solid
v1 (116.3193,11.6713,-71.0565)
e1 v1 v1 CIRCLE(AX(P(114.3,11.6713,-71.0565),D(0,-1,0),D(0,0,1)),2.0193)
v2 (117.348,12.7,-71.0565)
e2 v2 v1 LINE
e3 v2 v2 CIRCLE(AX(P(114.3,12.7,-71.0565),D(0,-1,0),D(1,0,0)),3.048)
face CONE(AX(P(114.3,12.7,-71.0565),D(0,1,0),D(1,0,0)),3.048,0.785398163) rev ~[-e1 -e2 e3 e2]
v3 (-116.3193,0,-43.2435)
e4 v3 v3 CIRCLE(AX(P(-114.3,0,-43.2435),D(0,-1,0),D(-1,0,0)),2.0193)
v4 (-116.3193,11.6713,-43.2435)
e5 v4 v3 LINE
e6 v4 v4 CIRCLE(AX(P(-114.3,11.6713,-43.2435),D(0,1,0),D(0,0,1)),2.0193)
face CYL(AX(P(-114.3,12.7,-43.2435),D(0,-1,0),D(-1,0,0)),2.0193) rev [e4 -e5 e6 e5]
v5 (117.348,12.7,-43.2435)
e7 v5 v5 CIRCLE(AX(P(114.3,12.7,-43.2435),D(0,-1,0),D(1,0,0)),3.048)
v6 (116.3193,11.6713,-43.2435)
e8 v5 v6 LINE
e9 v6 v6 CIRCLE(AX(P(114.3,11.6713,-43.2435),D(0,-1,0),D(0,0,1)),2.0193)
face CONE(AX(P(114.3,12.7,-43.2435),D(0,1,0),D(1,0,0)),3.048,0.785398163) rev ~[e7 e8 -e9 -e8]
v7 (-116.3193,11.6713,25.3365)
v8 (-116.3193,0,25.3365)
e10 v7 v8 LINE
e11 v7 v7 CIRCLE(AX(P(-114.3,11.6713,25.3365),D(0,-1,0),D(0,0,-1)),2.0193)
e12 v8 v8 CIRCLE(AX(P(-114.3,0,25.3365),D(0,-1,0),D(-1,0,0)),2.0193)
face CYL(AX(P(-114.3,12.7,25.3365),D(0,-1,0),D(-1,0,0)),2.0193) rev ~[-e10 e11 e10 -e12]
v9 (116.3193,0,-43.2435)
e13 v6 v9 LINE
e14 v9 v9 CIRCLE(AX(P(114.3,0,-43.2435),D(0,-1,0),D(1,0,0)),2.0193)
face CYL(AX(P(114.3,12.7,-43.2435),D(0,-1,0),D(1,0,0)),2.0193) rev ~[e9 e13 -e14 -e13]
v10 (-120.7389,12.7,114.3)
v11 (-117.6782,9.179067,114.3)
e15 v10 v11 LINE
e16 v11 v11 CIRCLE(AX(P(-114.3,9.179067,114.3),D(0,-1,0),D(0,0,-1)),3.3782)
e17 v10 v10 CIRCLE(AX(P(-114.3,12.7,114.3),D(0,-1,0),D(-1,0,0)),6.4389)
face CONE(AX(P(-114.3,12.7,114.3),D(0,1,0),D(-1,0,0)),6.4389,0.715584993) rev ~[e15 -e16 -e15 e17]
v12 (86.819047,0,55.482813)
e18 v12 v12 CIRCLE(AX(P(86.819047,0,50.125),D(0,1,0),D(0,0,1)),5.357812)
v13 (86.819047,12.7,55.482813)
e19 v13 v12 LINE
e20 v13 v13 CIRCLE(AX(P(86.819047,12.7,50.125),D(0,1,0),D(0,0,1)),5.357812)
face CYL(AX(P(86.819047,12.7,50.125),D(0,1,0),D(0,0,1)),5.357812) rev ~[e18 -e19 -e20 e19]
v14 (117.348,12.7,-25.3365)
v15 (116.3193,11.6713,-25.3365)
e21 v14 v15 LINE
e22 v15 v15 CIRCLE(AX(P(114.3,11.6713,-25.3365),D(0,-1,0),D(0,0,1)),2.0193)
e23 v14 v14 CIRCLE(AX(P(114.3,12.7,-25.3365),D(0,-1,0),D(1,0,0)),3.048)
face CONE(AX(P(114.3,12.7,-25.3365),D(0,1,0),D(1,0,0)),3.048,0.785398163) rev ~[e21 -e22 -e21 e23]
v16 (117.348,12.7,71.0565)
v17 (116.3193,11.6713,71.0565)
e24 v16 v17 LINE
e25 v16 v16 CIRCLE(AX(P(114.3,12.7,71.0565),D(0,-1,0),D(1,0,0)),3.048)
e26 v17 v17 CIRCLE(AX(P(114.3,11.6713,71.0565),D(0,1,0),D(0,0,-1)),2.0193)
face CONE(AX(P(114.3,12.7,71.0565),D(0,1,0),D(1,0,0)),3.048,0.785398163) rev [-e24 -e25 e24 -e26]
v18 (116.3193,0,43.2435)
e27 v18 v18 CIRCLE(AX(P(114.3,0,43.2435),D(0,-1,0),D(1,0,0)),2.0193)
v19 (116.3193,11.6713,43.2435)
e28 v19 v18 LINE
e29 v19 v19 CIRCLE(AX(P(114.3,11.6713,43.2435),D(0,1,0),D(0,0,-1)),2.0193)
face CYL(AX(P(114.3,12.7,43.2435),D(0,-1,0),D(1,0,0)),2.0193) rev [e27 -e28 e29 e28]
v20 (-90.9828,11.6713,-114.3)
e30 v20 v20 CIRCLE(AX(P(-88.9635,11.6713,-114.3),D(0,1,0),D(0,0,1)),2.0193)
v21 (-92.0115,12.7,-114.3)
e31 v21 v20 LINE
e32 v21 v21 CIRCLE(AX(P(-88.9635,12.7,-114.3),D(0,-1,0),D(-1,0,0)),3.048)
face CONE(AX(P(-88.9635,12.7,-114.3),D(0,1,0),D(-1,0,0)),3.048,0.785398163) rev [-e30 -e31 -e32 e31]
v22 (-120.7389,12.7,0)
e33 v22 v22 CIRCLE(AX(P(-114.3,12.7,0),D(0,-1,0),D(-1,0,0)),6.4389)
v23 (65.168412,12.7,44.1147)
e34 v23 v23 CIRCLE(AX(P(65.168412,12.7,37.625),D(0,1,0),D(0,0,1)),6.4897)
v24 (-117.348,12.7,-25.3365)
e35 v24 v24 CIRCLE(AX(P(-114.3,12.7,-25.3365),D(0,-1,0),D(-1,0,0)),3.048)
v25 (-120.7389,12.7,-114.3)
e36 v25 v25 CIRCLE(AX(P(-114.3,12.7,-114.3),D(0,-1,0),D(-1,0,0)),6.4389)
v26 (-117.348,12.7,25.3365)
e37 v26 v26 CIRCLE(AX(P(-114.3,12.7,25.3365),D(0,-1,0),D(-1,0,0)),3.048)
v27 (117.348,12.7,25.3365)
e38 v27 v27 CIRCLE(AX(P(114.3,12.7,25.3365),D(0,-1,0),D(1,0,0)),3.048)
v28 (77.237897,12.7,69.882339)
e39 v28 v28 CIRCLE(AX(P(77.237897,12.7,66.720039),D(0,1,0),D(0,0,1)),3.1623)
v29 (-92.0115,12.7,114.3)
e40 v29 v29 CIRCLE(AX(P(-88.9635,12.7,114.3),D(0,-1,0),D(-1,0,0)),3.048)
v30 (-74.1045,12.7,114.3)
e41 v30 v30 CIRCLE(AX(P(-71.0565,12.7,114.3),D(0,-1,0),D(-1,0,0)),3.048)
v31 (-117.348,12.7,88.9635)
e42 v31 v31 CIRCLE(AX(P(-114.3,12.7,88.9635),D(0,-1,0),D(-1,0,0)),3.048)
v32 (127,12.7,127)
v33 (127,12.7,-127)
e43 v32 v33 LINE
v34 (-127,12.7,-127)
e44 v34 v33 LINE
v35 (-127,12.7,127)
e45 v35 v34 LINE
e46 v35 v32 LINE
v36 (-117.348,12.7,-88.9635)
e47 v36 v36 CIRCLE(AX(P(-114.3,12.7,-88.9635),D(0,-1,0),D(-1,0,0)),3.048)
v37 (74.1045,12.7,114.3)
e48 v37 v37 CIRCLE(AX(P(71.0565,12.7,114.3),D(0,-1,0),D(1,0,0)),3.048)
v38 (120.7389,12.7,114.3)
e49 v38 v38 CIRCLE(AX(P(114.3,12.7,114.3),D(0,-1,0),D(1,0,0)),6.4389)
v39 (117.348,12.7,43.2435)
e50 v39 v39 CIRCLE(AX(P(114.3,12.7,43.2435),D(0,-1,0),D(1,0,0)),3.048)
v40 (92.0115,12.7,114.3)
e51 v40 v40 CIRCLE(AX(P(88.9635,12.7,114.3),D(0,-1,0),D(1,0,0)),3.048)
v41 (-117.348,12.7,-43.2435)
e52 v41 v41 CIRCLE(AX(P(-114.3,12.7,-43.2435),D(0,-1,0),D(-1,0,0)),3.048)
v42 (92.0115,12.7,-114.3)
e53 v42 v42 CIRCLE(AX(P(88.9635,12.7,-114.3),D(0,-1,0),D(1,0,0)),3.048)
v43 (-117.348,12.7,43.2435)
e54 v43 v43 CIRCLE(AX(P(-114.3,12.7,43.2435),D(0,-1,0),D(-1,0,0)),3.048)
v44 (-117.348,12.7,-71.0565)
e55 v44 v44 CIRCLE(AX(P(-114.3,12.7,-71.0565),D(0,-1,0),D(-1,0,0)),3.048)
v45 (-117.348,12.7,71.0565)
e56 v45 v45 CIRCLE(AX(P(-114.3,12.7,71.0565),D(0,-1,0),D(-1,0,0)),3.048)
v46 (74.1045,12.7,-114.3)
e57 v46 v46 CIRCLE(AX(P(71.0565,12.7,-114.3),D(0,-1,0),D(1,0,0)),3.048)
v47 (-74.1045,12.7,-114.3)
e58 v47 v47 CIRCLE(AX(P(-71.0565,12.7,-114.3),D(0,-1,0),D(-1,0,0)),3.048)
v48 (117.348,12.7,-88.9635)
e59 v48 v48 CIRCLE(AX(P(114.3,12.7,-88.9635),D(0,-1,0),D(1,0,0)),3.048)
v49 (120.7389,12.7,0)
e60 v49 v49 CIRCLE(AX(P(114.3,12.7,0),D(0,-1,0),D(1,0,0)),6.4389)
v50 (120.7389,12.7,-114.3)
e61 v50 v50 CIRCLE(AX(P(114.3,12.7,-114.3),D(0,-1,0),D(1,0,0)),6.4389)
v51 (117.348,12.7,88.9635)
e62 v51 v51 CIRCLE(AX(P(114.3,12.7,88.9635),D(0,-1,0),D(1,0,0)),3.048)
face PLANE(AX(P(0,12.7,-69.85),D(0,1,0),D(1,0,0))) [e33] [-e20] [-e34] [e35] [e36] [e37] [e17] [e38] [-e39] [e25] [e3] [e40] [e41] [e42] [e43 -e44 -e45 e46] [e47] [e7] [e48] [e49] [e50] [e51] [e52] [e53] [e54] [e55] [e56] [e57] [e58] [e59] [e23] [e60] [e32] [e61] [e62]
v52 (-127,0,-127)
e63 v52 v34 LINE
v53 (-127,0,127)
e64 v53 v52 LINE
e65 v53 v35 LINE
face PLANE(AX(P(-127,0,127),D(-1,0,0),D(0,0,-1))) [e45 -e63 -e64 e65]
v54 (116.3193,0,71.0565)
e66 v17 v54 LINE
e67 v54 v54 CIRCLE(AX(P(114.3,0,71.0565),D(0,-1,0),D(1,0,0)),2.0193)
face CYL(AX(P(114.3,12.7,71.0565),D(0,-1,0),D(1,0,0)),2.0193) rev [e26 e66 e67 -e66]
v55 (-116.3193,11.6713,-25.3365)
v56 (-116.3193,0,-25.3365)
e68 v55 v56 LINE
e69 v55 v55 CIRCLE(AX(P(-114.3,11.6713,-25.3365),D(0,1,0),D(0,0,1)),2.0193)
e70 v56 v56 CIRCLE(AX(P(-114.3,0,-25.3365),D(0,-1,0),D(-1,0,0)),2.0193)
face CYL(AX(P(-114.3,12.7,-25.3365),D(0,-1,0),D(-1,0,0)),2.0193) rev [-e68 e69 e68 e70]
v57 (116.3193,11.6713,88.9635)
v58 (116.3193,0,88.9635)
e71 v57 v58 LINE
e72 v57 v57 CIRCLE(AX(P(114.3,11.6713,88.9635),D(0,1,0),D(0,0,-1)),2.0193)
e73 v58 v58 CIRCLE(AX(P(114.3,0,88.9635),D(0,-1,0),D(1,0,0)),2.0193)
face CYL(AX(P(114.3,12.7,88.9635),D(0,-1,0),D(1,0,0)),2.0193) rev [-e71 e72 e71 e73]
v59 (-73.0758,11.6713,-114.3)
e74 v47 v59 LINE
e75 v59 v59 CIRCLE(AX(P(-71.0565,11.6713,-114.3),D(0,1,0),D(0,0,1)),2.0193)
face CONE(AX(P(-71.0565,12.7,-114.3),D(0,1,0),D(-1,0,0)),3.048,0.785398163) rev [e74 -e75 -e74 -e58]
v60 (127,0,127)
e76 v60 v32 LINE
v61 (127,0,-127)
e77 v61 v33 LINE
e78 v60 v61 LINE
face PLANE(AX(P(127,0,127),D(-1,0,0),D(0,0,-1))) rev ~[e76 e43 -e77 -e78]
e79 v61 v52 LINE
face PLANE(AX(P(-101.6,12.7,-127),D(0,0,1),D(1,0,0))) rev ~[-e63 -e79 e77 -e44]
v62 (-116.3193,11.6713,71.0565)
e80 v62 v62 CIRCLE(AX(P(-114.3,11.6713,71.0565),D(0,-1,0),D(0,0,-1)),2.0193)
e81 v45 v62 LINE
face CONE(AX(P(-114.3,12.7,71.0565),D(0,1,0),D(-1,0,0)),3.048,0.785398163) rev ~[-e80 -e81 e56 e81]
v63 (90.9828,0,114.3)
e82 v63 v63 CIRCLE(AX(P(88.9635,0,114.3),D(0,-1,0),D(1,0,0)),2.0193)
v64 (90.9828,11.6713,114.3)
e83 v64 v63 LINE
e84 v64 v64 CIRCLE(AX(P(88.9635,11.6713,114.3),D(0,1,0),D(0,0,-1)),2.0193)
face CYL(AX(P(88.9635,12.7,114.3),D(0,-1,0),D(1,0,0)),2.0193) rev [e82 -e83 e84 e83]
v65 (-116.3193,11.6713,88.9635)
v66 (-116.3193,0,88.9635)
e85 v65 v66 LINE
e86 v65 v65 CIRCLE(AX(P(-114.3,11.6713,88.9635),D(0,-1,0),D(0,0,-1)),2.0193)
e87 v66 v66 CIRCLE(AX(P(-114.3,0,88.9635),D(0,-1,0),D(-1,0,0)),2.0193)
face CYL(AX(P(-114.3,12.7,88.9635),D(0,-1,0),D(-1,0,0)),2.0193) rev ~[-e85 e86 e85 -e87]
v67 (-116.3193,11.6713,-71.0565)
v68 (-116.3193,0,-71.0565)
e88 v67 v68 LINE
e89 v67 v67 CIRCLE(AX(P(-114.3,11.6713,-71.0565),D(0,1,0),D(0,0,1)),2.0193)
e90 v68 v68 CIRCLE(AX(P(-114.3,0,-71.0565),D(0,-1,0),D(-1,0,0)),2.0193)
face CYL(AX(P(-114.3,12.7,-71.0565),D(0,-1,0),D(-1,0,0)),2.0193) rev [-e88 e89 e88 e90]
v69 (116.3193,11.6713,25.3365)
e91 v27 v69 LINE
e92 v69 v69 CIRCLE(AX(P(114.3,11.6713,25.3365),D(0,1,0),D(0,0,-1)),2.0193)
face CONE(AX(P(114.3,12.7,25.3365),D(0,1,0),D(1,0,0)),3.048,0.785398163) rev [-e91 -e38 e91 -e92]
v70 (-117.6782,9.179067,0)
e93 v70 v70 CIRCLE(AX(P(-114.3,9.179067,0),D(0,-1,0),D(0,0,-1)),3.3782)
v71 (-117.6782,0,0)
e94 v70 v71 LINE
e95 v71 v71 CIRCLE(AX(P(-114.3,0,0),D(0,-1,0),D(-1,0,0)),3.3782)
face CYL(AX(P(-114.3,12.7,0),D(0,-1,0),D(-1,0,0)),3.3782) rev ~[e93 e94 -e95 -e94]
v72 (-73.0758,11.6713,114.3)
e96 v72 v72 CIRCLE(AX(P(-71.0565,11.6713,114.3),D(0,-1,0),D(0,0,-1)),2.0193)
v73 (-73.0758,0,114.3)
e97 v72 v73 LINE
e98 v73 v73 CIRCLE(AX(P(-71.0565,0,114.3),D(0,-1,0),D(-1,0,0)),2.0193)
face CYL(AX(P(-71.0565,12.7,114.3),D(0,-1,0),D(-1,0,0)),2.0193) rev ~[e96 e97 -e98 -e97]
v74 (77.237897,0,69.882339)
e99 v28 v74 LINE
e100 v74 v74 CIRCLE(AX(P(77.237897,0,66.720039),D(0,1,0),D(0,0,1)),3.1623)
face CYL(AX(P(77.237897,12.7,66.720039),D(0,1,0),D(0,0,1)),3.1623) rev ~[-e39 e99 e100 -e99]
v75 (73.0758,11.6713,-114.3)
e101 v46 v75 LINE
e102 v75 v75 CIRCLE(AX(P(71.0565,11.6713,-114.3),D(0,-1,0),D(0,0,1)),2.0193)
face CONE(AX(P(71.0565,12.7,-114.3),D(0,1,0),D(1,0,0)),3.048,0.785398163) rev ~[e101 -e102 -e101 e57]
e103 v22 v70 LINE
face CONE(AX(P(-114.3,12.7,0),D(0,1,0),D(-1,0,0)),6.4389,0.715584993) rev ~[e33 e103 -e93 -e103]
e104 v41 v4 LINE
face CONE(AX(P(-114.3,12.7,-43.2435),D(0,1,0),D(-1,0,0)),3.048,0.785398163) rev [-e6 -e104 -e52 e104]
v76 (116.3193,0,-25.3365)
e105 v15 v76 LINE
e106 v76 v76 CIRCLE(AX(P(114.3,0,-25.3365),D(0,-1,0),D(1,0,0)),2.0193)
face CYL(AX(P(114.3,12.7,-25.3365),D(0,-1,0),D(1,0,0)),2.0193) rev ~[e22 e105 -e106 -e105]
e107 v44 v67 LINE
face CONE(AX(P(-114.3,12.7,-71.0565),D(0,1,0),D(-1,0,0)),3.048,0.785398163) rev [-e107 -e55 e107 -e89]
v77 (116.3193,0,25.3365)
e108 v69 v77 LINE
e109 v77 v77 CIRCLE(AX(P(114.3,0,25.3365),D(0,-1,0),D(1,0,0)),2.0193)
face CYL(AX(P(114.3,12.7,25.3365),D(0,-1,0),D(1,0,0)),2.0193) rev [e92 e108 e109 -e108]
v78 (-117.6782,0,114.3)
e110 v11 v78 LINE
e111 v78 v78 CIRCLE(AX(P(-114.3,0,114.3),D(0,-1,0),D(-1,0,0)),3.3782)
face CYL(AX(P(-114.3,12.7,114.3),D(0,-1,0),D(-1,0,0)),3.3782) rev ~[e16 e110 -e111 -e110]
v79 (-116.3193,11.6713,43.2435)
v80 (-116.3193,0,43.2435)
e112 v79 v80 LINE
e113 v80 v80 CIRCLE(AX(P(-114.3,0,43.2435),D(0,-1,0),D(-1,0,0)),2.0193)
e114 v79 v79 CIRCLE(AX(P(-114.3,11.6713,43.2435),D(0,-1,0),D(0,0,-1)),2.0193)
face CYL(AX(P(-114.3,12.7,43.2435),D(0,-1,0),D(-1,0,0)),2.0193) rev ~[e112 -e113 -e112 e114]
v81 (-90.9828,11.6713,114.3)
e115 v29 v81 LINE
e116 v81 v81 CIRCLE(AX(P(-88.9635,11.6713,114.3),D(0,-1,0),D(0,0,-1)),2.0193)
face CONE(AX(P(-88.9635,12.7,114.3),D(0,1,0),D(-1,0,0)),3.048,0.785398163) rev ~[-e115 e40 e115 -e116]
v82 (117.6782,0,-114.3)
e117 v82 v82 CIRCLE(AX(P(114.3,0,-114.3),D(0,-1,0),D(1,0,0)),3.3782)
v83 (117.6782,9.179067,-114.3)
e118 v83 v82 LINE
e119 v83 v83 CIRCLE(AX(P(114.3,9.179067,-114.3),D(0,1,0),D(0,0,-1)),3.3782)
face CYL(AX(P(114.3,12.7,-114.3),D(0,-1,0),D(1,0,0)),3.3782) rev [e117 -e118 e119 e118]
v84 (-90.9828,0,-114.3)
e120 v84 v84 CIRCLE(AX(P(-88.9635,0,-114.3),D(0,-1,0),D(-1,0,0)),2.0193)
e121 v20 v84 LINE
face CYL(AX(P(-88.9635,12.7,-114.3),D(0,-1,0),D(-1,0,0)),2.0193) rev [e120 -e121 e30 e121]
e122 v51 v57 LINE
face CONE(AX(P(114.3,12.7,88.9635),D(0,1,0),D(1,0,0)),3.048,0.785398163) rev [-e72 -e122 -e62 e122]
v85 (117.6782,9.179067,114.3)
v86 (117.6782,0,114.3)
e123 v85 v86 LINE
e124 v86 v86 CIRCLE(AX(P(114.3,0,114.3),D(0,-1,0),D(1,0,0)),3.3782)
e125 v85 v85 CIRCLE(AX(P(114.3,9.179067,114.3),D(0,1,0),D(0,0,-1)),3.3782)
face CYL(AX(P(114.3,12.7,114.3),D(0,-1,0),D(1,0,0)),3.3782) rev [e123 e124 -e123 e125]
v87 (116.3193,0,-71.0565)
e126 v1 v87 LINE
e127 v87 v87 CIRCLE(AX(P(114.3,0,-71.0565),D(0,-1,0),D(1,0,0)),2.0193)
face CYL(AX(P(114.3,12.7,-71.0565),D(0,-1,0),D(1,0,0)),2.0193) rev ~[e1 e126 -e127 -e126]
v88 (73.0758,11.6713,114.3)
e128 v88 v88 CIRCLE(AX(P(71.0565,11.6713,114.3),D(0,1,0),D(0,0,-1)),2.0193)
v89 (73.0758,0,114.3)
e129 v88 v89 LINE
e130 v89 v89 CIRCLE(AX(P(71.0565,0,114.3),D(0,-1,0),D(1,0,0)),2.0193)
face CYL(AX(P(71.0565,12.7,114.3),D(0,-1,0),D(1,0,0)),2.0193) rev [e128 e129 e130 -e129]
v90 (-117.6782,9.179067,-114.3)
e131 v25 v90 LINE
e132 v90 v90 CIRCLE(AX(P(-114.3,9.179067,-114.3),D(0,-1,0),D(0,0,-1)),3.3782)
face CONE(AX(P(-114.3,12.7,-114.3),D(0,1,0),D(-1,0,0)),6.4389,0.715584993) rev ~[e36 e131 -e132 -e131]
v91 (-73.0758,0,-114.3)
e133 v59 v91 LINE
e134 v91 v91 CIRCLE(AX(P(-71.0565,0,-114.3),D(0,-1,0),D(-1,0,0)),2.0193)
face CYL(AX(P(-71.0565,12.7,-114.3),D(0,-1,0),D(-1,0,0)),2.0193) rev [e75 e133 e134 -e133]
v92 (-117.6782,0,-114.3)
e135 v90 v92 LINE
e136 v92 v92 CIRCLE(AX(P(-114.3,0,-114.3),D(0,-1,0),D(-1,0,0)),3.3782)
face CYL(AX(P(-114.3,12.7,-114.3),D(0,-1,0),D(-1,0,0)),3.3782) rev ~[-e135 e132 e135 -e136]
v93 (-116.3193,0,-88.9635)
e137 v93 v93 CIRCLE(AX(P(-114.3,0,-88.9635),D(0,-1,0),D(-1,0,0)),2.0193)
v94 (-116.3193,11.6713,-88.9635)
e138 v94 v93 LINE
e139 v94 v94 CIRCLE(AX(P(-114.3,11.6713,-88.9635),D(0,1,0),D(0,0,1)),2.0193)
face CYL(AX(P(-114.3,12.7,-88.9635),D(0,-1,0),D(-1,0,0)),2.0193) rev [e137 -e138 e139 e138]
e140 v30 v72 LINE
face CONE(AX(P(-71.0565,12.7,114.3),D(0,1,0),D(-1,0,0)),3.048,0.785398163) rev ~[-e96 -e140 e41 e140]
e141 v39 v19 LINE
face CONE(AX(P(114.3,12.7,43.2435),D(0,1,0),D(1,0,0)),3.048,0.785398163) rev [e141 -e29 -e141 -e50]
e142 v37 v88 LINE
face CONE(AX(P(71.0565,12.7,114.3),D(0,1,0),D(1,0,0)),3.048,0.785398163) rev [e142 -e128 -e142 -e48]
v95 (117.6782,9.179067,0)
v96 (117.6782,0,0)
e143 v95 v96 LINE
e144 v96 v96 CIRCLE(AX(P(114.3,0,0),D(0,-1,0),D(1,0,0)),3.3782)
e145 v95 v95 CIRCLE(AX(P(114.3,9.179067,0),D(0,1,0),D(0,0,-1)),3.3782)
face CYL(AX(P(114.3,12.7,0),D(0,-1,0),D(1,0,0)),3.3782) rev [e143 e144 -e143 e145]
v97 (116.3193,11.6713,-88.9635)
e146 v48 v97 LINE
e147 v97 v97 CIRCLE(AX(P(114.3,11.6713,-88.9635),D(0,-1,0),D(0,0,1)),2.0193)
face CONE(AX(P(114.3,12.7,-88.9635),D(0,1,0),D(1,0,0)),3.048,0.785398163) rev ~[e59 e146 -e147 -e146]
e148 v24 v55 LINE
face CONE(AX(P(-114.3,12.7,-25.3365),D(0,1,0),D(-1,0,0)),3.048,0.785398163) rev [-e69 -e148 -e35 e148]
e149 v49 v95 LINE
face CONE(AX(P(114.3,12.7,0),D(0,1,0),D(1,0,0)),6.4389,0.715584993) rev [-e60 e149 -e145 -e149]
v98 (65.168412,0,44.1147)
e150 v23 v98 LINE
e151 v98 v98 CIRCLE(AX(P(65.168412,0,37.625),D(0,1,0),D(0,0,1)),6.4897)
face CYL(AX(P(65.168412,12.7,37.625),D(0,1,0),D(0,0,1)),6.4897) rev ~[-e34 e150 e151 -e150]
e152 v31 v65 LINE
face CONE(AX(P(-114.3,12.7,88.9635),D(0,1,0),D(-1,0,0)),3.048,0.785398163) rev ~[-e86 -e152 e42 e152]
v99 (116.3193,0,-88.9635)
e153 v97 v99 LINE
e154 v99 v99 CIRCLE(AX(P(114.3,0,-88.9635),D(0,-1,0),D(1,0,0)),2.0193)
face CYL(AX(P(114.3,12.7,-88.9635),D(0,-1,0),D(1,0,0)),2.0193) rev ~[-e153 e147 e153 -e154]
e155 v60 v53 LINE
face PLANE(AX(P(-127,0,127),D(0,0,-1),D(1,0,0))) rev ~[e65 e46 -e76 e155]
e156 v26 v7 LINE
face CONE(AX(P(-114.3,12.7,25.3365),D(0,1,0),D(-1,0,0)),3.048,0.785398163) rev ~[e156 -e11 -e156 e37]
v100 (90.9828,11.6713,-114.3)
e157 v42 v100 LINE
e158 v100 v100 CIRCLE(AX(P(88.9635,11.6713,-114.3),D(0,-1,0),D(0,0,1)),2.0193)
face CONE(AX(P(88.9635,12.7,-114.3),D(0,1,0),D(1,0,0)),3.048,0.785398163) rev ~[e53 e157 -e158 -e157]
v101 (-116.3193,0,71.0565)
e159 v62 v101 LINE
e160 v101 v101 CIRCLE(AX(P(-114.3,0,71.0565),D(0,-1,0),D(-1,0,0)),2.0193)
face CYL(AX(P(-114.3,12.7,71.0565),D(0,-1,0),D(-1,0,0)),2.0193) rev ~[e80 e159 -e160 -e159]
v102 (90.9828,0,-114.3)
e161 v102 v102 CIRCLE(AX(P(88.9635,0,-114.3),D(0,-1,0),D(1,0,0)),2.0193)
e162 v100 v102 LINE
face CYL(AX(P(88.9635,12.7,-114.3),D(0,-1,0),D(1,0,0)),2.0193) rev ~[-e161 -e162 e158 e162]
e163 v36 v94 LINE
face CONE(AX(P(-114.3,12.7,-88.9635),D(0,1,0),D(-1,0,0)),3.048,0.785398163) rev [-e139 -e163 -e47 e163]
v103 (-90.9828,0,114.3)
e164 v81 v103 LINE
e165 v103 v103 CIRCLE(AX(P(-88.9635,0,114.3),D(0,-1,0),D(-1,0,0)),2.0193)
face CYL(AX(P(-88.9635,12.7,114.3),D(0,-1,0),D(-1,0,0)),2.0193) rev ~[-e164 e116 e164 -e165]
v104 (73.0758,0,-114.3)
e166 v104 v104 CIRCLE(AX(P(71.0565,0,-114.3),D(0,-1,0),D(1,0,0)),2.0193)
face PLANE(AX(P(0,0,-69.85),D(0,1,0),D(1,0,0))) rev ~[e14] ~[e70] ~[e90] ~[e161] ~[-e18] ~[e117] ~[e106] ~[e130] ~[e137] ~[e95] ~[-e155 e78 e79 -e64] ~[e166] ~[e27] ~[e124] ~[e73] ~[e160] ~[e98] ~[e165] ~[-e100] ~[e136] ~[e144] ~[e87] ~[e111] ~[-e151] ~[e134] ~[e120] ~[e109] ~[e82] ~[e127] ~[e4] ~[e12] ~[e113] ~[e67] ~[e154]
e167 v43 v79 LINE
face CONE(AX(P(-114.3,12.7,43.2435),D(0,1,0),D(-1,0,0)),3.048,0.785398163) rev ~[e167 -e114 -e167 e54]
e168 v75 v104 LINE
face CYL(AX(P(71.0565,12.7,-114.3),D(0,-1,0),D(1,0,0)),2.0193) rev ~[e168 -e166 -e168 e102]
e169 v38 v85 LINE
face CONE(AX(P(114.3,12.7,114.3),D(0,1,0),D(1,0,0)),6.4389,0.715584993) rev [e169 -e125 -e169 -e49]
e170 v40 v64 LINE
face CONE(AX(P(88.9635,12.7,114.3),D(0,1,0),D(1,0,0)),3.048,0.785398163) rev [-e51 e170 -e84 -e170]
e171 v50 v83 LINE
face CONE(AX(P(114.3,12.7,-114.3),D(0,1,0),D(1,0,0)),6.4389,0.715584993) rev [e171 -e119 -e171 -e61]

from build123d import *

# Parameters (mm, degrees)
SKETCH1_W                                        = 254
SKETCH1_H                                        = 254
BOSS_EXTRUDE1_DEPTH                              = 12.7
SKETCH2_W                                        = 203.2
SKETCH2_H                                        = 114.3
CUT_EXTRUDE1_DEPTH                               = 181.05357536
SKETCH11_W                                       = 203.2
SKETCH11_H                                       = 114.3
BOSS_EXTRUDE2_DEPTH                              = 12.7
SKETCH13_R                                       = 5.3578125
SKETCH13_R_2                                     = 6.4897
CUT_EXTRUDE8_DEPTH                               = 181.05357536
SKETCH14_R                                       = 3.1623
CUT_EXTRUDE9_DEPTH                               = 181.05357536
F_10_32_TAPPED_HOLE2_D                           = 4.0386
F_10_32_TAPPED_HOLE2_CSINK_D                     = 6.096
F_10_32_TAPPED_HOLE2_CSINK_ANGLE                 = 90
MIRROR2_COPY_1_D                                 = 4.0386
MIRROR2_COPY_1_CSINK_D                           = 6.096
MIRROR2_COPY_1_CSINK_ANGLE                       = 90
CSK_FOR_1_4_FLAT_HEAD_MACHINE_SCREW1_D           = 6.7564
CSK_FOR_1_4_FLAT_HEAD_MACHINE_SCREW1_CSINK_D     = 12.8778
CSK_FOR_1_4_FLAT_HEAD_MACHINE_SCREW1_CSINK_ANGLE = 82


with BuildPart() as part:
    # Sketch1 → Boss-Extrude1 (new body)
    with BuildSketch(Plane(origin=(0, 0, 0), x_dir=(1, 0, 0), z_dir=(0, 1, 0))):
        Rectangle(SKETCH1_W, SKETCH1_H)
    extrude(amount=BOSS_EXTRUDE1_DEPTH)

    # Sketch2 → Cut-Extrude1 (cut, through all)
    with BuildSketch(Plane(origin=(0, 12.7, 0), x_dir=(1, 0, 0), z_dir=(0, 1, 0))):
        with Locations((0, -69.85)):
            Rectangle(SKETCH2_W, SKETCH2_H)
        with Locations((0, 69.85)):
            Rectangle(SKETCH2_W, SKETCH2_H)
    extrude(amount=-CUT_EXTRUDE1_DEPTH, mode=Mode.SUBTRACT)

    # Sketch11 → Boss-Extrude2 (add)
    with BuildSketch(Plane(origin=(0, 12.7, 0), x_dir=(1, 0, 0), z_dir=(0, 1, 0))):
        with Locations((0, 69.85)):
            Rectangle(SKETCH11_W, SKETCH11_H)
        with Locations((0, -69.85)):
            Rectangle(SKETCH11_W, SKETCH11_H)
    extrude(amount=-BOSS_EXTRUDE2_DEPTH)

    # Sketch13 → Cut-Extrude8 (cut, through all)
    with BuildSketch(Plane(origin=(0, 12.7, 0), x_dir=(1, 0, 0), z_dir=(0, 1, 0))):
        with Locations(Location((86.819046868, -50.12500008, 0), (0, 0, 270))):
            Circle(SKETCH13_R)
        with Locations(Location((65.16841174, -37.625000061, 0), (0, 0, 270))):
            Circle(SKETCH13_R_2)
    extrude(amount=-CUT_EXTRUDE8_DEPTH, mode=Mode.SUBTRACT)

    # Sketch14 → Cut-Extrude9 (cut, through all)
    with BuildSketch(Plane(origin=(0, 12.7, 0), x_dir=(1, 0, 0), z_dir=(0, 1, 0))):
        with Locations(Location((77.237896866, -66.720038678, 0), (0, 0, 270))):
            Circle(SKETCH14_R)
    extrude(amount=-CUT_EXTRUDE9_DEPTH, mode=Mode.SUBTRACT)

    # #10-32 Tapped Hole2 (through all)
    with Locations(Plane(origin=(0, 12.7, 0), x_dir=(1, 0, 0), z_dir=(0, 1, 0))):
        with Locations((-114.3, -25.3365), (-114.3, -43.2435), (-114.3, -71.0565), (-114.3, -88.9635), (-88.9635, -114.3), (-71.0565, -114.3)):
            f_10_32_tapped_hole2 = CounterSinkHole(F_10_32_TAPPED_HOLE2_D / 2, F_10_32_TAPPED_HOLE2_CSINK_D / 2, counter_sink_angle=F_10_32_TAPPED_HOLE2_CSINK_ANGLE)

    # Mirror1: #10-32 Tapped Hole2 across plane
    add(f_10_32_tapped_hole2.mirror(Plane.XY), mode=Mode.SUBTRACT)

    # Mirror2: #10-32 Tapped Hole2 across plane
    add(f_10_32_tapped_hole2.mirror(Plane(origin=(0, 0, 0), x_dir=(0, 0, 1), z_dir=(1, 0, 0))), mode=Mode.SUBTRACT)

    # Mirror2 copy 1 (through all)
    with Locations(Plane(origin=(0, 12.7, 0), x_dir=(-1, 0, 0), z_dir=(0, 1, 0))):
        with Locations((-114.3, -25.3365), (-114.3, -43.2435), (-114.3, -71.0565), (-114.3, -88.9635), (-88.9635, -114.3), (-71.0565, -114.3)):
            CounterSinkHole(MIRROR2_COPY_1_D / 2, MIRROR2_COPY_1_CSINK_D / 2, counter_sink_angle=MIRROR2_COPY_1_CSINK_ANGLE)

    # CSK for 1/4 Flat Head Machine Screw1 (through all)
    with Locations(Plane(origin=(0, 12.7, 0), x_dir=(1, 0, 0), z_dir=(0, 1, 0))):
        with Locations((-114.3, 0), (-114.3, 114.3), (-114.3, -114.3)):
            csk_for_1_4_flat_head_machine_screw1 = CounterSinkHole(CSK_FOR_1_4_FLAT_HEAD_MACHINE_SCREW1_D / 2, CSK_FOR_1_4_FLAT_HEAD_MACHINE_SCREW1_CSINK_D / 2, counter_sink_angle=CSK_FOR_1_4_FLAT_HEAD_MACHINE_SCREW1_CSINK_ANGLE)

    # Mirror3: CSK for 1/4 Flat Head Machine Screw1 across plane
    add(csk_for_1_4_flat_head_machine_screw1.mirror(Plane(origin=(0, 0, 0), x_dir=(0, 0, 1), z_dir=(1, 0, 0))), mode=Mode.SUBTRACT)


solid = part.part
